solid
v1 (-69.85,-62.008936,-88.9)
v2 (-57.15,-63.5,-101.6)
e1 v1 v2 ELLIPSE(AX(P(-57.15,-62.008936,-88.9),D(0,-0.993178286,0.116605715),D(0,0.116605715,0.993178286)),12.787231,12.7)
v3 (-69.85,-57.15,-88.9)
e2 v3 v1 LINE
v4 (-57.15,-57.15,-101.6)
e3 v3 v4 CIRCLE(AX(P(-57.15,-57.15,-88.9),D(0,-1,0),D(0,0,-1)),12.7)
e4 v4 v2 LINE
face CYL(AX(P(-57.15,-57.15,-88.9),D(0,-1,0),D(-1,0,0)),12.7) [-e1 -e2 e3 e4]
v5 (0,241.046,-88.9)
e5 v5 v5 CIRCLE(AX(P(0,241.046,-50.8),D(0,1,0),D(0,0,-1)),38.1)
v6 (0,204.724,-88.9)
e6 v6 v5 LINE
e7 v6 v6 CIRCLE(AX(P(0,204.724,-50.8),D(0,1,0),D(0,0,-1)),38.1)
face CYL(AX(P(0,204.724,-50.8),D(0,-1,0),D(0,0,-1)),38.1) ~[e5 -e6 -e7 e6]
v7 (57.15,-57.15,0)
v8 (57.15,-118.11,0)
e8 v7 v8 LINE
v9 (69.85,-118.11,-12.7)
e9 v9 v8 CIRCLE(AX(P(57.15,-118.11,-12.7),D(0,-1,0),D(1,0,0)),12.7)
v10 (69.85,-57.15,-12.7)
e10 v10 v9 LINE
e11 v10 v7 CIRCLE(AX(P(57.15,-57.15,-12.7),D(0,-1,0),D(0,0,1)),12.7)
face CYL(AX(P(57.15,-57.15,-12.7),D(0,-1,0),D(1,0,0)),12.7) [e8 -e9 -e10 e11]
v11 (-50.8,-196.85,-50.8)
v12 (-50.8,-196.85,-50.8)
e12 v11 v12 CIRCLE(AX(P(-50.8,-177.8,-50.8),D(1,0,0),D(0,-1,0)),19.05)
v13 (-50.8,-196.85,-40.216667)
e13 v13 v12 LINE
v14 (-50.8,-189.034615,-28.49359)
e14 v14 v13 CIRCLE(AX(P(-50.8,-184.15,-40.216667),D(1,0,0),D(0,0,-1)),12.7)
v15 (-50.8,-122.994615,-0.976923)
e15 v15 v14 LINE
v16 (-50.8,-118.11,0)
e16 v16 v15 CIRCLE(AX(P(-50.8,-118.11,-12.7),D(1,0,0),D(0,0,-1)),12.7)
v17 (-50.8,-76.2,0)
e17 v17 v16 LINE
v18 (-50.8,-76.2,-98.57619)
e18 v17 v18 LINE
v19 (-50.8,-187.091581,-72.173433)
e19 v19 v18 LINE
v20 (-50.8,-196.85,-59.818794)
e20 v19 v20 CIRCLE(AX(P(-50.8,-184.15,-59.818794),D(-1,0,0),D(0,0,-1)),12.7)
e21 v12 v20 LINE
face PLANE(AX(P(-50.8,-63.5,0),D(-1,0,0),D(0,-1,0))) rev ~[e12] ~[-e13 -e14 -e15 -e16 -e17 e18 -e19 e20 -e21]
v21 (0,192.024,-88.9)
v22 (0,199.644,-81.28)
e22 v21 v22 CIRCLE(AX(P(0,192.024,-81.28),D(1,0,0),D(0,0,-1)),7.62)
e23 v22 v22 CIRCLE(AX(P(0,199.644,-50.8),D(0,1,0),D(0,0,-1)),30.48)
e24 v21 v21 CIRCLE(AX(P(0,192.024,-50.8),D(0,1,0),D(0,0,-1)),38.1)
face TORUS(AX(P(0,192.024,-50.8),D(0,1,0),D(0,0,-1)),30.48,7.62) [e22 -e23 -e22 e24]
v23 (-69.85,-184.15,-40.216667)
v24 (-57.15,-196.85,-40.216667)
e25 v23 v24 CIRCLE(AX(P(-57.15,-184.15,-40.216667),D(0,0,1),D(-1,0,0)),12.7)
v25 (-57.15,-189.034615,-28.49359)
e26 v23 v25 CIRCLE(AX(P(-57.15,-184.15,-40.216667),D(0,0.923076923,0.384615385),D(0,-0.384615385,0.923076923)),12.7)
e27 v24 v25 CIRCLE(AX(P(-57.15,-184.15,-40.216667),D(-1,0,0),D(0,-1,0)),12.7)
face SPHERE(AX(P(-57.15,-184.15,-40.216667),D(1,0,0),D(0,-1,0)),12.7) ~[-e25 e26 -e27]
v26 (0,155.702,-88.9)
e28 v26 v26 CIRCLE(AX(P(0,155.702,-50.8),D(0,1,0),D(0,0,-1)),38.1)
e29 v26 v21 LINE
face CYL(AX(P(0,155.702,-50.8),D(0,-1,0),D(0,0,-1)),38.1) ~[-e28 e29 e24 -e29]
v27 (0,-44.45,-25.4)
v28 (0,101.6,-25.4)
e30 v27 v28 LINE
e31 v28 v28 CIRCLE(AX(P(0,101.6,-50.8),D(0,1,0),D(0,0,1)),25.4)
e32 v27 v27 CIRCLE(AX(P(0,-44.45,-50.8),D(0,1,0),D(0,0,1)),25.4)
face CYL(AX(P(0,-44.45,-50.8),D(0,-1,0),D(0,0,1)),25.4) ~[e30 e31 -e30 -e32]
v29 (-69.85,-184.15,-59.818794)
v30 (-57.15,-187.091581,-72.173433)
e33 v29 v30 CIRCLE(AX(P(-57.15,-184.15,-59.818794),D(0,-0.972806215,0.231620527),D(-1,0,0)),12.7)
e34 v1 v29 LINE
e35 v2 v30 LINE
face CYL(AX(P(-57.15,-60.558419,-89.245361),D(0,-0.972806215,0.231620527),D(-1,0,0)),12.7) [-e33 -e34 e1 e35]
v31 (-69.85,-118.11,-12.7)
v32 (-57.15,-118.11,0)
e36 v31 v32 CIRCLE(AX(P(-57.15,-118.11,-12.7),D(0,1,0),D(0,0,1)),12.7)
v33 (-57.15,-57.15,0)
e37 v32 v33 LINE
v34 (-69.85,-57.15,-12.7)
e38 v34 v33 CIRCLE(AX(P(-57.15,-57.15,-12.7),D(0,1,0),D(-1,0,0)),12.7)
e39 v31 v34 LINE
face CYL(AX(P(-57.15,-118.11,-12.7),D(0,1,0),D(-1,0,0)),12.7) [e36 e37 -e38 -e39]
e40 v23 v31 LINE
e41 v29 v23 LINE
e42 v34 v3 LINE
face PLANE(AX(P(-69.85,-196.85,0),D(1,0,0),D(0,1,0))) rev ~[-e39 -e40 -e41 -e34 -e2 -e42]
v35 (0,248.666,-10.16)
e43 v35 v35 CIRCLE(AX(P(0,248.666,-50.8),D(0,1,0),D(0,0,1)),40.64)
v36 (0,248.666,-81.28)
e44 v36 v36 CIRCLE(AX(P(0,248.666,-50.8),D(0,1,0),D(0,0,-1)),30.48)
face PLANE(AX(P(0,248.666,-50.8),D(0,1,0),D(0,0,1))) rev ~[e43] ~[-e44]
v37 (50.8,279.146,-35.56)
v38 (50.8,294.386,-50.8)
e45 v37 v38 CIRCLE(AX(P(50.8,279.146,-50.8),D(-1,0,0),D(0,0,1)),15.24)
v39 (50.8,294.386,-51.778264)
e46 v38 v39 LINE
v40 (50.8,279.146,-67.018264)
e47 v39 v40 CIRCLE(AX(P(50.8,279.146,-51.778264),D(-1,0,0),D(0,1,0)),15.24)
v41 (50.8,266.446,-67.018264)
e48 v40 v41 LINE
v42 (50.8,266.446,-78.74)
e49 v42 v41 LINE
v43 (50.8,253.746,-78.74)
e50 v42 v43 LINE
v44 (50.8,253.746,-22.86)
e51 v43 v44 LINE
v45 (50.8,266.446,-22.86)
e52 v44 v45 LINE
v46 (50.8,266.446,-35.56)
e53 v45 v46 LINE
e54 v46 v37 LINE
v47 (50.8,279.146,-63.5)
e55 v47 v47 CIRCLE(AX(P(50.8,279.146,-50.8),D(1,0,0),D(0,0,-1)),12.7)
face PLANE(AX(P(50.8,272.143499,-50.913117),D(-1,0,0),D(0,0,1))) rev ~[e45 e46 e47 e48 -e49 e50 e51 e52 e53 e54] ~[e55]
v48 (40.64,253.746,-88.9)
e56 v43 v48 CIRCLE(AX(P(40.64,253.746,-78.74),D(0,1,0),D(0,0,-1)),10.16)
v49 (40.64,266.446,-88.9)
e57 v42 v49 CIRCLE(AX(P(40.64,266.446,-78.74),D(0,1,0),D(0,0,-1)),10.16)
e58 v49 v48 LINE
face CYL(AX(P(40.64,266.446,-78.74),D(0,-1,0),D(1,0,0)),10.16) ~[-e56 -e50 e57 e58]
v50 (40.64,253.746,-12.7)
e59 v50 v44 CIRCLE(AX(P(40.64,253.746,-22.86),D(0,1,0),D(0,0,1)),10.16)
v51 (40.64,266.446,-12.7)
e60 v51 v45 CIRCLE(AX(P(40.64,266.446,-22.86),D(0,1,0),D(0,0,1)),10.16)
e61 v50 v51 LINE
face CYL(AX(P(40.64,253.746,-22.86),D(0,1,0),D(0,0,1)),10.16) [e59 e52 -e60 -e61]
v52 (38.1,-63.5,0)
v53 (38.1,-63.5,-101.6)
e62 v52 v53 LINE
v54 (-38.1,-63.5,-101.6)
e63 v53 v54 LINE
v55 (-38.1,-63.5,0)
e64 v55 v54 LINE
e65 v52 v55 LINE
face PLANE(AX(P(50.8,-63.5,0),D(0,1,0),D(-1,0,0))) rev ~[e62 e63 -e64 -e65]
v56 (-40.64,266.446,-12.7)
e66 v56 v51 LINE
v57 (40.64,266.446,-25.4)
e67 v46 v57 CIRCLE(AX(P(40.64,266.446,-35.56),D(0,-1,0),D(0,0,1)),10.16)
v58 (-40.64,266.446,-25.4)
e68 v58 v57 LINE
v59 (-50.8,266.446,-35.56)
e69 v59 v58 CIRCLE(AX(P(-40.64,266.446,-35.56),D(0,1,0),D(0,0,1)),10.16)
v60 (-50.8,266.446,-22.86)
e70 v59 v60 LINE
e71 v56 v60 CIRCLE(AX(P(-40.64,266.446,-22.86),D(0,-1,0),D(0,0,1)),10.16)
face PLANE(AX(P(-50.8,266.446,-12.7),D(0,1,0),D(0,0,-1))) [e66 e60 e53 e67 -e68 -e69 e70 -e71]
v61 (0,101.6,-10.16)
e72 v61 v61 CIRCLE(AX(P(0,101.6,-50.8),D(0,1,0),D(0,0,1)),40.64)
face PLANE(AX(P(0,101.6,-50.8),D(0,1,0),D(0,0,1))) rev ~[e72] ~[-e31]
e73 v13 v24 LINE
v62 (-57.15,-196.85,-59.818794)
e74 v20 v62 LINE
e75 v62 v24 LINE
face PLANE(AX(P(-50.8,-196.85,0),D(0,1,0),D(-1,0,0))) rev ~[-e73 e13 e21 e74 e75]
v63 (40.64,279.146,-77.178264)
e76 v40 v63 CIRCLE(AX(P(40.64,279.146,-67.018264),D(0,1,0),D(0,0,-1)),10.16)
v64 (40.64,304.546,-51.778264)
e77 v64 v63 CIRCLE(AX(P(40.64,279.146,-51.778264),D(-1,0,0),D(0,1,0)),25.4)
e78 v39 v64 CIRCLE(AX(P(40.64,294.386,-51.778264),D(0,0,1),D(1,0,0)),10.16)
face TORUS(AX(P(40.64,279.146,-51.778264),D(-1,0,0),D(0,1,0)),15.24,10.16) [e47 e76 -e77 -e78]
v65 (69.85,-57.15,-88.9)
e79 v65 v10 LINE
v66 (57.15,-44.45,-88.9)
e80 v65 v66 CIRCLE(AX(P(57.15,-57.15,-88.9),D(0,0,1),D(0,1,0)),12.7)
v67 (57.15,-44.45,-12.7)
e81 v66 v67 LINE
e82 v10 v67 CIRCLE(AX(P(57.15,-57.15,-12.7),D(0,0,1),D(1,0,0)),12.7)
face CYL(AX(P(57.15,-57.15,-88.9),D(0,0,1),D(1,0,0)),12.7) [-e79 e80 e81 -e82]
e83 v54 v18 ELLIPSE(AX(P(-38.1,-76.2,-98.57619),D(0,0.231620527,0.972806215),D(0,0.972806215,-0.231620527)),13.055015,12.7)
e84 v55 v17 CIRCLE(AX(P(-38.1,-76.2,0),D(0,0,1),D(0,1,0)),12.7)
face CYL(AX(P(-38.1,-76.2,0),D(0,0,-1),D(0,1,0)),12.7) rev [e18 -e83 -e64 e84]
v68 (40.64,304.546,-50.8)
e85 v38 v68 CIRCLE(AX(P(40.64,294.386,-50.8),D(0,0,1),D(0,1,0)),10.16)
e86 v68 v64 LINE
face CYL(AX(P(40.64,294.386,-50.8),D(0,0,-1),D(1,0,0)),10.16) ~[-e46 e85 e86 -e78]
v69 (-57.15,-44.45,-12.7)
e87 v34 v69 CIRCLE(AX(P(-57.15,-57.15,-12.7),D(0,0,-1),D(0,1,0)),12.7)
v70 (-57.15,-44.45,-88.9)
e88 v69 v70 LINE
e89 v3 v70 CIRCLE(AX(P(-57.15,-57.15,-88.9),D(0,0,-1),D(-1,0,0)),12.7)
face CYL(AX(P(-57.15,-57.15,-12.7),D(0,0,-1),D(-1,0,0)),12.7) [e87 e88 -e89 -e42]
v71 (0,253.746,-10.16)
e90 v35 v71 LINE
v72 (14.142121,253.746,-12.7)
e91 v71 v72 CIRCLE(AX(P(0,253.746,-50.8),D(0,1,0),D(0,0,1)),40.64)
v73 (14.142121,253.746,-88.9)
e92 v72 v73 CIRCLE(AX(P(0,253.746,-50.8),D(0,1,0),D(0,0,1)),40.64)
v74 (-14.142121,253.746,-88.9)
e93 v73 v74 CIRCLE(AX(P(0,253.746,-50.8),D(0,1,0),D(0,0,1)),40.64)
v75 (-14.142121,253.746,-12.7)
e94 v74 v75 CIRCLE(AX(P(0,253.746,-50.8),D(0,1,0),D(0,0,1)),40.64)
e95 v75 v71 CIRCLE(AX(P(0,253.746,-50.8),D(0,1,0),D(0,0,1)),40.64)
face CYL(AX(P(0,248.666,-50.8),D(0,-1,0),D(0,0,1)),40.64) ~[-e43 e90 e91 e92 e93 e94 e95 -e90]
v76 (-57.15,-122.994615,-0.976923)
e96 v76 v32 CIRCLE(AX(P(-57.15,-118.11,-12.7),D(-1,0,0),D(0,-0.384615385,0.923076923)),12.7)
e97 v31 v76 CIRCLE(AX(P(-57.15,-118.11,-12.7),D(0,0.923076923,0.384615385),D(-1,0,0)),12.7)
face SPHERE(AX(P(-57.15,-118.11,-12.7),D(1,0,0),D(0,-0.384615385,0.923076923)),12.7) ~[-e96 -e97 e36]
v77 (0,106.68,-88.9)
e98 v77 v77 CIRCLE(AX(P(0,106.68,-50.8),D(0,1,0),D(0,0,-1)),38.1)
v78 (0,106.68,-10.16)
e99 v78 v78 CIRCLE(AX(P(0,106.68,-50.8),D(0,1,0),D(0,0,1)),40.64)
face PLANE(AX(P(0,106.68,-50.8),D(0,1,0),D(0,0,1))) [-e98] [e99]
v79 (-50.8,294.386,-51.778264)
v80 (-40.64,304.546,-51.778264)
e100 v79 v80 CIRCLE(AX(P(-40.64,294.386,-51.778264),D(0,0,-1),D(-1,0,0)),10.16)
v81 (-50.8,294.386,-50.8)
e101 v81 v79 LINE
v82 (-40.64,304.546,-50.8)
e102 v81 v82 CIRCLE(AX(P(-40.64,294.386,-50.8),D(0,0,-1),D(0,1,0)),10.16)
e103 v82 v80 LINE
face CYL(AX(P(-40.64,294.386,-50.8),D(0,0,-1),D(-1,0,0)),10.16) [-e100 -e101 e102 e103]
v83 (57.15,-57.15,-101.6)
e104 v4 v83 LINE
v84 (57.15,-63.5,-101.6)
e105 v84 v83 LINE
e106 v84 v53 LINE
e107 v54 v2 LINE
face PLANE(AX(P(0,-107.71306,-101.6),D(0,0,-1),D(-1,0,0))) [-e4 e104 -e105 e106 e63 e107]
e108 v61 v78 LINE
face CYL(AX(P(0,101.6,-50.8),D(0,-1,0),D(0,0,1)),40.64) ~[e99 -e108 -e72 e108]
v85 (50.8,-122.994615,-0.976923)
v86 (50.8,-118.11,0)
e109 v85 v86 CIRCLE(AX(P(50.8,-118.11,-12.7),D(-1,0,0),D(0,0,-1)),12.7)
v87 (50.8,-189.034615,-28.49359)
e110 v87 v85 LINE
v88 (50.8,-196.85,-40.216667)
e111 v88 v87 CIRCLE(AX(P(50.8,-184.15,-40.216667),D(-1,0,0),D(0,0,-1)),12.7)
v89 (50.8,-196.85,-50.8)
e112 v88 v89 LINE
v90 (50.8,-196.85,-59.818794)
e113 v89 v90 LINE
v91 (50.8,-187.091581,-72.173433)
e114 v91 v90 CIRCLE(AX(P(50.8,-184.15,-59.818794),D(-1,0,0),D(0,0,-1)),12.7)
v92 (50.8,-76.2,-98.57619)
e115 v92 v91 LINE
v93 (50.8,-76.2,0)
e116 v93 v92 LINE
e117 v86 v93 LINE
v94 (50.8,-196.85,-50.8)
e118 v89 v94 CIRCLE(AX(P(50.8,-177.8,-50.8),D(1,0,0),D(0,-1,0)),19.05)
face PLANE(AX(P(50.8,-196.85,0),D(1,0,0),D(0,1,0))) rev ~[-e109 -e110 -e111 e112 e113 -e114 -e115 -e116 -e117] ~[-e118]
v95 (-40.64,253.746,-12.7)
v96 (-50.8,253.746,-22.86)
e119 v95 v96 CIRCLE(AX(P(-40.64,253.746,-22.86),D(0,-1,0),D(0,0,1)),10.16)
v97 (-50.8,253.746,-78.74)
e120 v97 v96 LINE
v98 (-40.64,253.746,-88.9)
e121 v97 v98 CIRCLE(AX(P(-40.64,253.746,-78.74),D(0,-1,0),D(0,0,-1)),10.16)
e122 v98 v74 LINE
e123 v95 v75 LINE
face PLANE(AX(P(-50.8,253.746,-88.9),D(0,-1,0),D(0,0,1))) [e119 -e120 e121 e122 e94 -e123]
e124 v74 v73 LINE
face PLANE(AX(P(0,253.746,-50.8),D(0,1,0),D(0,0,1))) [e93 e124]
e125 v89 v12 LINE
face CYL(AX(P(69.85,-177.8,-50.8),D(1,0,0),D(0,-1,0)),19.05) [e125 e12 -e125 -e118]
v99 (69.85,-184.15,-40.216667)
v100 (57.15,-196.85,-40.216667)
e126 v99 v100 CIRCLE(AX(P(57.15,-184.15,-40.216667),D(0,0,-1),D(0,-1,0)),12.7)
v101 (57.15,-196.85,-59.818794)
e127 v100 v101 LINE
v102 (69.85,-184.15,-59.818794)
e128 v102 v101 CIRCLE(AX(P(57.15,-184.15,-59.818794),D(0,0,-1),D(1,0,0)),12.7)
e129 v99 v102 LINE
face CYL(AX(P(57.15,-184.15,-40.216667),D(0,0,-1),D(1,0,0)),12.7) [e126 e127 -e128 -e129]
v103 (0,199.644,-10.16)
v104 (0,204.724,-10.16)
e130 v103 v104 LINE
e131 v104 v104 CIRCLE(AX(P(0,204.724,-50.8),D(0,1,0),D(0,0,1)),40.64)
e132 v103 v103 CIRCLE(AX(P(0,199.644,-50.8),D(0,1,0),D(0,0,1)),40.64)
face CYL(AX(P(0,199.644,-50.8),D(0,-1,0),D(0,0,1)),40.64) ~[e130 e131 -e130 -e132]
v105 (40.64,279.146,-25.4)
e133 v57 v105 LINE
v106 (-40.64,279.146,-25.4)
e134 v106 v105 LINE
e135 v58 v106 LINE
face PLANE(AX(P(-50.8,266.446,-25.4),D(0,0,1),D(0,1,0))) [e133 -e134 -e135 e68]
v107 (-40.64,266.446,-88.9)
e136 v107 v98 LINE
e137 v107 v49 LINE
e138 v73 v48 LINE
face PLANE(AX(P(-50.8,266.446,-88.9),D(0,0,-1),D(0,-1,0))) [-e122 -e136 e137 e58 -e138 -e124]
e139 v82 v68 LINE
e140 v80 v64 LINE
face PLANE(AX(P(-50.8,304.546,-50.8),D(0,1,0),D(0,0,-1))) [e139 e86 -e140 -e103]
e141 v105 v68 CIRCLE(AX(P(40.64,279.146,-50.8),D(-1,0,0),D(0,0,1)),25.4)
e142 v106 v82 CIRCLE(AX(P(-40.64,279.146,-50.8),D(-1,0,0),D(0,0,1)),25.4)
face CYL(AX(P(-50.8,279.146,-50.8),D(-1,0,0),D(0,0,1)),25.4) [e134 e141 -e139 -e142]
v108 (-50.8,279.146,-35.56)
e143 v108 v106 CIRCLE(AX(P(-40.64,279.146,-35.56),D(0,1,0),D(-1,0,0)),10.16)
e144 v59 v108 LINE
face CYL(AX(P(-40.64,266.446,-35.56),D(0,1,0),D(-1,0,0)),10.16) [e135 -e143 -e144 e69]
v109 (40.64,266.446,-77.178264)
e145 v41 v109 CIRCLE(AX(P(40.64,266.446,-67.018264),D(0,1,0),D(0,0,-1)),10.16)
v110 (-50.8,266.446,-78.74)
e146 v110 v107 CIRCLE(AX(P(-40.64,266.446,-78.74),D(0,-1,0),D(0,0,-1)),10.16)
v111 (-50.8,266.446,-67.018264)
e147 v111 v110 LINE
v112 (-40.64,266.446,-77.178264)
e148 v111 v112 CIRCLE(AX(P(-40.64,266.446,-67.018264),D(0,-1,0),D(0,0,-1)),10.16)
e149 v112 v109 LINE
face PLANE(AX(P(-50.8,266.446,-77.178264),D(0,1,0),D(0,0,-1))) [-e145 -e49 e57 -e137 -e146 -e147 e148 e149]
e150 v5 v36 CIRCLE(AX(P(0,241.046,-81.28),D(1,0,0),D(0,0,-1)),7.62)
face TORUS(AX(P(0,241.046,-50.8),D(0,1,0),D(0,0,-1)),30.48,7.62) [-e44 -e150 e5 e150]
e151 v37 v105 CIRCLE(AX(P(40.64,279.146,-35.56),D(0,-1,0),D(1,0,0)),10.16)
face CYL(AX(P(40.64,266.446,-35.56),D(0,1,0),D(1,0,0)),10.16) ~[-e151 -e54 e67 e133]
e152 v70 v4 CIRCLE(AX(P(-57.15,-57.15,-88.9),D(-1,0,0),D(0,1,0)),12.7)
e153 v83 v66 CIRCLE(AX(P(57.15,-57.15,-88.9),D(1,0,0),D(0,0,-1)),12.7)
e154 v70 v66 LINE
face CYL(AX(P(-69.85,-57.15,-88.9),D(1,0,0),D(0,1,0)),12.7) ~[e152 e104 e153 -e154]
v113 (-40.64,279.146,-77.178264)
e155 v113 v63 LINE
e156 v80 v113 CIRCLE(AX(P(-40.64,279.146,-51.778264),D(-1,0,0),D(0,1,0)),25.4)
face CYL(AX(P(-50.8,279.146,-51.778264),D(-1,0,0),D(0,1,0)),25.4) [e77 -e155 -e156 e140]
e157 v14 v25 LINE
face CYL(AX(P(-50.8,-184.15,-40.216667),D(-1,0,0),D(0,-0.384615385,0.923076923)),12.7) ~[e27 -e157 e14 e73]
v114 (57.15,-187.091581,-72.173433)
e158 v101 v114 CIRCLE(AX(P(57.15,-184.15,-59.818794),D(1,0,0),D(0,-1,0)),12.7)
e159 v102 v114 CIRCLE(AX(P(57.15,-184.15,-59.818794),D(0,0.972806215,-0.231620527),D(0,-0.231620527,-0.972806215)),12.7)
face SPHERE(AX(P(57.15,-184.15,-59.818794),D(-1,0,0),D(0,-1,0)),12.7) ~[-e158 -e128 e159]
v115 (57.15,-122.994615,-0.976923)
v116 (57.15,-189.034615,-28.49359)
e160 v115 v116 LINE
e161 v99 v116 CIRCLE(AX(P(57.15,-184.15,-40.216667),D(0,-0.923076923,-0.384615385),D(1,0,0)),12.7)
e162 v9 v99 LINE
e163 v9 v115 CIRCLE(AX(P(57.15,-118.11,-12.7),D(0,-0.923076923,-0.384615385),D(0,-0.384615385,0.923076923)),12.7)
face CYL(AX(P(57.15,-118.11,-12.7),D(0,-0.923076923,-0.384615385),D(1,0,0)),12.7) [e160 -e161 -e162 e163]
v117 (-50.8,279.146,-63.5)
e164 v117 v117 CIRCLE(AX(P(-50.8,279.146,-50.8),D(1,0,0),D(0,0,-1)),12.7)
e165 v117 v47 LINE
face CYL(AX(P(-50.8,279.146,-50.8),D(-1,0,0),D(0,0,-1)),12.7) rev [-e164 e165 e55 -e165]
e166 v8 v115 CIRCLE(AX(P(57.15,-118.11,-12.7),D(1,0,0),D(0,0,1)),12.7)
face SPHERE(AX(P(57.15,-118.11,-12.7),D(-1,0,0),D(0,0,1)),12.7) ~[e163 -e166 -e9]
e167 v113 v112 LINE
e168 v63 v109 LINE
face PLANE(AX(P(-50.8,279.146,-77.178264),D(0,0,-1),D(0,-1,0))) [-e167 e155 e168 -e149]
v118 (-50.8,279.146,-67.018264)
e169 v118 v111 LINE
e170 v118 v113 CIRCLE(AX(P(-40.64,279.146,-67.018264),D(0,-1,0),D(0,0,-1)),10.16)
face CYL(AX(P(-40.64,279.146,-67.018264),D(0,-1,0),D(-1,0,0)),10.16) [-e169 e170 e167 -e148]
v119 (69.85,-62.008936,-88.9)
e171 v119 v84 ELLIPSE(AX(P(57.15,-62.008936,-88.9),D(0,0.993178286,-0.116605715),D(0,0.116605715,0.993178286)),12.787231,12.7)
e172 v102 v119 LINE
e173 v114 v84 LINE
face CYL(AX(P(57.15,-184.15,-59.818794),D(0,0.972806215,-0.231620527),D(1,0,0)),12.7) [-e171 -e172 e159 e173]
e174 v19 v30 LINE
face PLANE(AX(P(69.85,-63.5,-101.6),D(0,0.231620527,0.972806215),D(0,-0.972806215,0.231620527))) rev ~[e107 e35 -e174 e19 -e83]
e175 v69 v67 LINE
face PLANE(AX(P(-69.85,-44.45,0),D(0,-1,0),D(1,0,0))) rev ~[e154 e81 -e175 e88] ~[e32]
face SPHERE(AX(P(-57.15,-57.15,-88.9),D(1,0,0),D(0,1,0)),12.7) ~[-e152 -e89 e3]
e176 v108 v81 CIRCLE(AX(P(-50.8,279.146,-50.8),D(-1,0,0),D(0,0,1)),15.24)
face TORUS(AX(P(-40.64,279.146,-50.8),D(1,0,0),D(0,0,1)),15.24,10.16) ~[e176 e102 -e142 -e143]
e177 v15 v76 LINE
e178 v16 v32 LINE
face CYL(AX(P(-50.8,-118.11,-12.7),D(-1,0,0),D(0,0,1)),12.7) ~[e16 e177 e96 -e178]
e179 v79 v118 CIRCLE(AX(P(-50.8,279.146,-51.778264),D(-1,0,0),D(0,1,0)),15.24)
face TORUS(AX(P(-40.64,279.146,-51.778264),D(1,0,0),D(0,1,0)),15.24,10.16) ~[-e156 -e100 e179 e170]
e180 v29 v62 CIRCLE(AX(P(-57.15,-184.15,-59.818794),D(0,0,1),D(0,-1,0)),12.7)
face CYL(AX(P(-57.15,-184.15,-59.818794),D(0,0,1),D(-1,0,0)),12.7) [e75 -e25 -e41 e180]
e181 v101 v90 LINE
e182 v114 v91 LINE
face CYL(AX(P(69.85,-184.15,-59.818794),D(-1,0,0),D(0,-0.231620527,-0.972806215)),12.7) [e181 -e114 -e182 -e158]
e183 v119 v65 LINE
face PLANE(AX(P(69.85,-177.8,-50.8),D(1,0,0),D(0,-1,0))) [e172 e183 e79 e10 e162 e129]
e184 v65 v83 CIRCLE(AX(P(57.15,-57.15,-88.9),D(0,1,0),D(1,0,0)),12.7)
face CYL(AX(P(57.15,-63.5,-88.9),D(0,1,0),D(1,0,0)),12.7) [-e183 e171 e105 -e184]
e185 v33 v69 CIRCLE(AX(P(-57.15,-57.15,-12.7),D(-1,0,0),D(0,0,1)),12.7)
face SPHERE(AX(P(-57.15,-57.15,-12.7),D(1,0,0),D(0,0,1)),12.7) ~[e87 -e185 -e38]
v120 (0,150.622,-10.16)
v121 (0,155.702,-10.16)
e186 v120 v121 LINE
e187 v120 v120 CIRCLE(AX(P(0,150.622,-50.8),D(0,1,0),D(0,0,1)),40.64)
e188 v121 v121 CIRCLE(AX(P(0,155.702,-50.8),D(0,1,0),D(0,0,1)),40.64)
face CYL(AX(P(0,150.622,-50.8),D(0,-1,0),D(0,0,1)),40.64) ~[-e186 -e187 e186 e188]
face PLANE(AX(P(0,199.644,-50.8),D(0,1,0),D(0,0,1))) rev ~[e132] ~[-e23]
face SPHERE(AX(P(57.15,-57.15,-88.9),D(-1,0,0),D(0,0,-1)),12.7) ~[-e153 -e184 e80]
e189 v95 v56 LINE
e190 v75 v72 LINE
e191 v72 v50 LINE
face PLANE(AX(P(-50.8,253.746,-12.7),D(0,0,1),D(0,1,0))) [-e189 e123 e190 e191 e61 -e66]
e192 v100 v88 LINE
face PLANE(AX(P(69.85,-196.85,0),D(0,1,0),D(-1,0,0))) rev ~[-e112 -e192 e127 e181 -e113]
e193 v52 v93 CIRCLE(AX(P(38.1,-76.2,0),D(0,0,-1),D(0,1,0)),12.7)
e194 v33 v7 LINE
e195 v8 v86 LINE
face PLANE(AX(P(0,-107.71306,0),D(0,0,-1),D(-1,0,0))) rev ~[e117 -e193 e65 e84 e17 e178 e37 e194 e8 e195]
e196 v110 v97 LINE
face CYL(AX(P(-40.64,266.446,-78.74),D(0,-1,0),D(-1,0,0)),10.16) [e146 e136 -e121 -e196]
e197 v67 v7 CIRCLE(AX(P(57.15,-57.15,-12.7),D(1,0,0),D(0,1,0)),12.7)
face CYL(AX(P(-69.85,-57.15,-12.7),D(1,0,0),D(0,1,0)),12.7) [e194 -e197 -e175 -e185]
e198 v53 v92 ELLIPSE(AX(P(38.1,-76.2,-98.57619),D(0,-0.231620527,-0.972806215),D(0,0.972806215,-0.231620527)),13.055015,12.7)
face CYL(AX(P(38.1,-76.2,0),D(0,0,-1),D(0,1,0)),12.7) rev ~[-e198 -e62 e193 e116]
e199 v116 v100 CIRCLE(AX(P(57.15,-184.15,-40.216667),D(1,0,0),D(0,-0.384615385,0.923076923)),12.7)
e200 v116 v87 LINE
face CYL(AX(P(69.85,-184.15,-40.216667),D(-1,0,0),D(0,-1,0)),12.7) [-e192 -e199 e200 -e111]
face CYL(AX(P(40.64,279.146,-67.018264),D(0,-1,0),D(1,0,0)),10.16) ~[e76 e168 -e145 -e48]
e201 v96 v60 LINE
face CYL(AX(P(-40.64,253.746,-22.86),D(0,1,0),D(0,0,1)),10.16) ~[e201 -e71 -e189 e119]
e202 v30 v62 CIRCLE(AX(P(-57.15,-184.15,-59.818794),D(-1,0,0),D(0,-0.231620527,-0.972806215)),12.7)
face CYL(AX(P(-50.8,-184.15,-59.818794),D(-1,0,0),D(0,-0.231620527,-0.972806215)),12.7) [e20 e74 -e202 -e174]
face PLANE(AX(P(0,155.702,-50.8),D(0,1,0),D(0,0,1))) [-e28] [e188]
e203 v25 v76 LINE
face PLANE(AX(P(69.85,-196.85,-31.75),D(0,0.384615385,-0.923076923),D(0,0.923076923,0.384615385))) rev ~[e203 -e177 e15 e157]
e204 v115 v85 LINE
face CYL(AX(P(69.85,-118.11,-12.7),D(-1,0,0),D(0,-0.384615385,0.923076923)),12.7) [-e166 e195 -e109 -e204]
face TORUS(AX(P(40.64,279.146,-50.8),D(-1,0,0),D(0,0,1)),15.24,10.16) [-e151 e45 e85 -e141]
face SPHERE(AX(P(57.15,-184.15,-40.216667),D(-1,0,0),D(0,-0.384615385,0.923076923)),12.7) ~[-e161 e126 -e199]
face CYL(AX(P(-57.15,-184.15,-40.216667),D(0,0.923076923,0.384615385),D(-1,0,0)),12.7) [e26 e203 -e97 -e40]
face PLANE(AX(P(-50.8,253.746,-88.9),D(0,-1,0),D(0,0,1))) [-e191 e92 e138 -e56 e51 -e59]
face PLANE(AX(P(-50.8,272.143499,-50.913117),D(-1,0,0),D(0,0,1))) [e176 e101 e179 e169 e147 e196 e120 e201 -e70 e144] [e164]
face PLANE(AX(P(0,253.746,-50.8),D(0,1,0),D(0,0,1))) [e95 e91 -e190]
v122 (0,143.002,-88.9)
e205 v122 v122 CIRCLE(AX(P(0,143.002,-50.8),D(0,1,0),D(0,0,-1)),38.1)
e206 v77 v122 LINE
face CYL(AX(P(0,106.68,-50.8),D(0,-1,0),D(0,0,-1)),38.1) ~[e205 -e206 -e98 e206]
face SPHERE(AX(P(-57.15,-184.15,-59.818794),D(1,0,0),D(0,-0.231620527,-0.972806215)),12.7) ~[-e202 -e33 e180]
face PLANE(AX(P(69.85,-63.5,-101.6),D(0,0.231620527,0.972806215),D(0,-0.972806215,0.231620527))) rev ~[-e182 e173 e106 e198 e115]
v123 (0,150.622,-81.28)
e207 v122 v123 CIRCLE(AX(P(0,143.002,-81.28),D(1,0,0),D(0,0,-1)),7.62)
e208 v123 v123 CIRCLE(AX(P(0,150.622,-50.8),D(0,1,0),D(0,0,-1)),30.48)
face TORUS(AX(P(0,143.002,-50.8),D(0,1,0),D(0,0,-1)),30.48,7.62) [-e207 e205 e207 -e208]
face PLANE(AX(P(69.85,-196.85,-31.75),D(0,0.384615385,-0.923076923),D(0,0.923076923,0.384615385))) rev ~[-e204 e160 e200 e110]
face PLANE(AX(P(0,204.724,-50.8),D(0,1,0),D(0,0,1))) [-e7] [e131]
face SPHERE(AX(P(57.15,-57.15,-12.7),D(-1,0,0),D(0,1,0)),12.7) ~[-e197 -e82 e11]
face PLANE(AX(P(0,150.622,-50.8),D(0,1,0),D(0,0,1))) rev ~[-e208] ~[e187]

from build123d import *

# Parameters (mm, degrees)
BOSS_EXTRUDE1_DEPTH       = 101.6
SKETCH2_R                 = 19.05
BOSS_EXTRUDE2_DEPTH       = 120.65
CUT_EXTRUDE1_REACH        = 263.894
FILLET1_R                 = 12.7
FILLET2_R                 = 12.7
SKETCH5_R                 = 25.4
BOSS_EXTRUDE3_DEPTH       = 146.05
SKETCH6_R                 = 40.64
BOSS_EXTRUDE4_DEPTH       = 5.08
SKETCH7_R                 = 38.1
BOSS_EXTRUDE5_DEPTH       = 43.942
FILLET5_R                 = 7.62
SKETCH8_R                 = 40.64
BOSS_EXTRUDE6_DEPTH       = 5.08
SKETCH9_R                 = 38.1
BOSS_EXTRUDE7_DEPTH       = 43.942
FILLET6_R                 = 7.62
SKETCH10_R                = 40.64
BOSS_EXTRUDE8_DEPTH       = 5.08
SKETCH11_R                = 38.1
BOSS_EXTRUDE9_DEPTH       = 43.942
FILLET7_R                 = 7.62
SKETCH12_R                = 40.64
BOSS_EXTRUDE10_DEPTH      = 5.08
BOSS_EXTRUDE11_DEPTH      = 50.8
BOSS_EXTRUDE11_DEPTH_BACK = 50.8
SKETCH13_R                = 12.7
FILLET3_R                 = 10.16
FILLET4_R                 = 10.16


with BuildPart() as part:
    # Sketch1 → Boss-Extrude1 (new body)
    with BuildSketch(Plane.XY):
        Polygon((-50.8, -196.85), (-69.85, -196.85), (-69.85, -44.45), (69.85, -44.45), (69.85, -196.85), (50.8, -196.85), (50.8, -63.5), (-50.8, -63.5), align=None)
    extrude(amount=-BOSS_EXTRUDE1_DEPTH)

    # Sketch2 → Boss-Extrude2 (add)
    with BuildSketch(Plane(origin=(69.85, 0, 0), x_dir=(0, 0, -1), z_dir=(1, 0, 0))):
        with Locations(Location((50.8, -177.8, 0), (0, 0, 270))):
            Circle(SKETCH2_R)
    extrude(amount=-BOSS_EXTRUDE2_DEPTH)

    # Cut-Extrude1: up to this face of the body (flat: up to its plane)
    cut_extrude1_end = Plane(part.part.faces().sort_by_distance((-69.85, -120.65, -50.8))[0])
    # Sketch4 → Cut-Extrude1 (cut, up to the picked face)
    with BuildSketch(Plane(origin=(69.85, 0, 0), x_dir=(0, 0, -1), z_dir=(1, 0, 0)), mode=Mode.PRIVATE) as cut_extrude1_sk1:
        Polygon((0, -196.85), (31.75, -196.85), (0, -120.65), align=None)
    cut_extrude1_tool1 = split(extrude(cut_extrude1_sk1.sketch, amount=-CUT_EXTRUDE1_REACH, mode=Mode.PRIVATE), bisect_by=cut_extrude1_end, keep=Keep.BOTH, mode=Mode.PRIVATE)
    # Sketch4 → Cut-Extrude1 (cut, up to the picked face)
    with BuildSketch(Plane(origin=(69.85, 0, 0), x_dir=(0, 0, -1), z_dir=(1, 0, 0)), mode=Mode.PRIVATE) as cut_extrude1_sk2:
        Polygon((101.6, -63.5), (69.85, -196.85), (101.6, -196.85), align=None)
    cut_extrude1_tool2 = split(extrude(cut_extrude1_sk2.sketch, amount=-CUT_EXTRUDE1_REACH, mode=Mode.PRIVATE), bisect_by=cut_extrude1_end, keep=Keep.BOTH, mode=Mode.PRIVATE)
    add(cut_extrude1_tool1.solids().sort_by(Axis((69.85, -171.45, -10.583333), (-1, 0, 0)))[0], mode=Mode.SUBTRACT)
    add(cut_extrude1_tool2.solids().sort_by(Axis((69.85, -152.4, -91.016667), (-1, 0, 0)))[0], mode=Mode.SUBTRACT)

    # Fillet1
    fillet1_edges = [part.edges().sort_by_distance(p)[0] for p in [
        (50.8, -63.5, -50.8),
        (-50.8, -63.5, -50.8),
        (0, -44.45, -101.6),
        (60.325, -120.65, 0),
        (-60.325, -120.65, 0),
        (-60.325, -196.85, -31.75),
        (60.325, -196.85, -31.75),
        (-60.325, -196.85, -69.85),
        (60.325, -196.85, -69.85),
        (0, -44.45, 0),
    ]]
    fillet(fillet1_edges, radius=FILLET1_R)

    # Fillet2
    fillet2_edges = [part.edges().sort_by_distance(p)[0] for p in [
        (69.85, -48.169743879, -3.719743879),
        (69.85, -60.325, -101.6),
        (-69.85, -87.63, 0),
        (69.85, -87.63, 0),
        (-69.85, -156.014615385, -14.73525641),
        (-69.85, -44.45, -50.8),
        (-69.85, -60.325, -101.6),
        (-69.85, -125.295790348, -86.886716584),
        (-69.85, -196.85, -50.017730454),
        (-69.85, -120.600674916, -0.246625419),
        (-69.85, -194.717038738, -33.171974175),
        (-69.85, -194.116144562, -67.69064044),
        (-69.85, -48.169743879, -97.880256121),
        (-69.85, -48.169743879, -3.719743879),
        (69.85, -44.45, -50.8),
        (69.85, -156.014615385, -14.73525641),
        (69.85, -196.85, -50.017730454),
        (69.85, -125.295790348, -86.886716584),
        (69.85, -120.600674916, -0.246625419),
        (69.85, -194.116144562, -67.69064044),
        (69.85, -194.717038738, -33.171974175),
        (69.85, -48.169743879, -97.880256121),
    ]]
    fillet(fillet2_edges, radius=FILLET2_R)

    # Sketch5 → Boss-Extrude3 (add)
    with BuildSketch(Plane(origin=(0, -44.45, 0), x_dir=(1, 0, 0), z_dir=(0, 1, 0))):
        with Locations(Location((0, 50.8, 0), (0, 0, 270))):
            Circle(SKETCH5_R)
    extrude(amount=BOSS_EXTRUDE3_DEPTH)

    # Sketch6 → Boss-Extrude4 (add)
    with BuildSketch(Plane(origin=(0, 101.6, 0), x_dir=(1, 0, 0), z_dir=(0, 1, 0))):
        with Locations(Location((0, 50.8, 0), (0, 0, 270))):
            Circle(SKETCH6_R)
    extrude(amount=BOSS_EXTRUDE4_DEPTH)

    # Sketch7 → Boss-Extrude5 (add)
    with BuildSketch(Plane(origin=(0, 106.68, 0), x_dir=(1, 0, 0), z_dir=(0, 1, 0))):
        with Locations(Location((0, 50.8, 0), (0, 0, 90))):
            Circle(SKETCH7_R)
    extrude(amount=BOSS_EXTRUDE5_DEPTH)

    # Fillet5
    fillet5_edges = [part.edges().sort_by_distance(p)[0] for p in [
        (0, 150.622, -12.7),
    ]]
    fillet(fillet5_edges, radius=FILLET5_R)

    # Sketch8 → Boss-Extrude6 (add)
    with BuildSketch(Plane(origin=(0, 150.622, 0), x_dir=(1, 0, 0), z_dir=(0, 1, 0))):
        with Locations(Location((0, 50.8, 0), (0, 0, 270))):
            Circle(SKETCH8_R)
    extrude(amount=BOSS_EXTRUDE6_DEPTH)

    # Sketch9 → Boss-Extrude7 (add)
    with BuildSketch(Plane(origin=(0, 155.702, 0), x_dir=(1, 0, 0), z_dir=(0, 1, 0))):
        with Locations(Location((0, 50.8, 0), (0, 0, 90))):
            Circle(SKETCH9_R)
    extrude(amount=BOSS_EXTRUDE7_DEPTH)

    # Fillet6
    fillet6_edges = [part.edges().sort_by_distance(p)[0] for p in [
        (0, 199.644, -12.7),
    ]]
    fillet(fillet6_edges, radius=FILLET6_R)

    # Sketch10 → Boss-Extrude8 (add)
    with BuildSketch(Plane(origin=(0, 199.644, 0), x_dir=(1, 0, 0), z_dir=(0, 1, 0))):
        with Locations(Location((0, 50.8, 0), (0, 0, 270))):
            Circle(SKETCH10_R)
    extrude(amount=BOSS_EXTRUDE8_DEPTH)

    # Sketch11 → Boss-Extrude9 (add)
    with BuildSketch(Plane(origin=(0, 204.724, 0), x_dir=(1, 0, 0), z_dir=(0, 1, 0))):
        with Locations(Location((0, 50.8, 0), (0, 0, 90))):
            Circle(SKETCH11_R)
    extrude(amount=BOSS_EXTRUDE9_DEPTH)

    # Fillet7
    fillet7_edges = [part.edges().sort_by_distance(p)[0] for p in [
        (0, 248.666, -12.7),
    ]]
    fillet(fillet7_edges, radius=FILLET7_R)

    # Sketch12 → Boss-Extrude10 (add)
    with BuildSketch(Plane(origin=(0, 248.666, 0), x_dir=(1, 0, 0), z_dir=(0, 1, 0))):
        with Locations(Location((0, 50.8, 0), (0, 0, 270))):
            Circle(SKETCH12_R)
    extrude(amount=BOSS_EXTRUDE10_DEPTH)

    # Sketch13 → Boss-Extrude11 (add, two sides: drawn at the far end of the back side and taken through both)
    with BuildSketch(Plane(origin=(0, 0, 0), x_dir=(0, 0, -1), z_dir=(1, 0, 0)).offset(-BOSS_EXTRUDE11_DEPTH_BACK)):
        with BuildLine():
            Line((50.8, 253.746), (12.7, 253.746))
            Line((12.7, 253.746), (12.7, 266.446))
            Line((12.7, 266.446), (25.4, 266.446))
            Line((25.4, 266.446), (25.4, 279.146))
            ThreePointArc((25.4, 279.146), (32.839487758, 297.106512242), (50.8, 304.546))
            Line((50.8, 304.546), (51.778264307, 304.546))
            ThreePointArc((51.778264307, 304.546), (69.738776549, 297.106512242), (77.178264307, 279.146))
            Line((77.178264307, 279.146), (77.178264307, 266.446))
            Line((77.178264307, 266.446), (88.9, 266.446))
            Line((88.9, 266.446), (88.9, 253.746))
            Line((88.9, 253.746), (50.8, 253.746))
        make_face()
        with Locations((50.8, 279.146)):
            Circle(SKETCH13_R, mode=Mode.SUBTRACT)
    extrude(amount=BOSS_EXTRUDE11_DEPTH + BOSS_EXTRUDE11_DEPTH_BACK)

    # Fillet3
    fillet3_edges = [part.edges().sort_by_distance(p)[0] for p in [
        (-50.8, 260.096, -12.7),
        (-50.8, 260.096, -88.9),
        (50.8, 260.096, -88.9),
        (50.8, 260.096, -12.7),
    ]]
    fillet(fillet3_edges, radius=FILLET3_R)

    # Fillet4
    fillet4_edges = [part.edges().sort_by_distance(p)[0] for p in [
        (-50.8, 272.796, -25.4),
        (-50.8, 297.106512242, -32.839487758),
        (-50.8, 304.546, -51.289132154),
        (-50.8, 297.106512242, -69.738776549),
        (-50.8, 272.796, -77.178264307),
        (50.8, 272.796, -77.178264307),
        (50.8, 297.106512242, -69.738776549),
        (50.8, 304.546, -51.289132154),
        (50.8, 297.106512242, -32.839487758),
        (50.8, 272.796, -25.4),
    ]]
    fillet(fillet4_edges, radius=FILLET4_R)


solid = part.part
